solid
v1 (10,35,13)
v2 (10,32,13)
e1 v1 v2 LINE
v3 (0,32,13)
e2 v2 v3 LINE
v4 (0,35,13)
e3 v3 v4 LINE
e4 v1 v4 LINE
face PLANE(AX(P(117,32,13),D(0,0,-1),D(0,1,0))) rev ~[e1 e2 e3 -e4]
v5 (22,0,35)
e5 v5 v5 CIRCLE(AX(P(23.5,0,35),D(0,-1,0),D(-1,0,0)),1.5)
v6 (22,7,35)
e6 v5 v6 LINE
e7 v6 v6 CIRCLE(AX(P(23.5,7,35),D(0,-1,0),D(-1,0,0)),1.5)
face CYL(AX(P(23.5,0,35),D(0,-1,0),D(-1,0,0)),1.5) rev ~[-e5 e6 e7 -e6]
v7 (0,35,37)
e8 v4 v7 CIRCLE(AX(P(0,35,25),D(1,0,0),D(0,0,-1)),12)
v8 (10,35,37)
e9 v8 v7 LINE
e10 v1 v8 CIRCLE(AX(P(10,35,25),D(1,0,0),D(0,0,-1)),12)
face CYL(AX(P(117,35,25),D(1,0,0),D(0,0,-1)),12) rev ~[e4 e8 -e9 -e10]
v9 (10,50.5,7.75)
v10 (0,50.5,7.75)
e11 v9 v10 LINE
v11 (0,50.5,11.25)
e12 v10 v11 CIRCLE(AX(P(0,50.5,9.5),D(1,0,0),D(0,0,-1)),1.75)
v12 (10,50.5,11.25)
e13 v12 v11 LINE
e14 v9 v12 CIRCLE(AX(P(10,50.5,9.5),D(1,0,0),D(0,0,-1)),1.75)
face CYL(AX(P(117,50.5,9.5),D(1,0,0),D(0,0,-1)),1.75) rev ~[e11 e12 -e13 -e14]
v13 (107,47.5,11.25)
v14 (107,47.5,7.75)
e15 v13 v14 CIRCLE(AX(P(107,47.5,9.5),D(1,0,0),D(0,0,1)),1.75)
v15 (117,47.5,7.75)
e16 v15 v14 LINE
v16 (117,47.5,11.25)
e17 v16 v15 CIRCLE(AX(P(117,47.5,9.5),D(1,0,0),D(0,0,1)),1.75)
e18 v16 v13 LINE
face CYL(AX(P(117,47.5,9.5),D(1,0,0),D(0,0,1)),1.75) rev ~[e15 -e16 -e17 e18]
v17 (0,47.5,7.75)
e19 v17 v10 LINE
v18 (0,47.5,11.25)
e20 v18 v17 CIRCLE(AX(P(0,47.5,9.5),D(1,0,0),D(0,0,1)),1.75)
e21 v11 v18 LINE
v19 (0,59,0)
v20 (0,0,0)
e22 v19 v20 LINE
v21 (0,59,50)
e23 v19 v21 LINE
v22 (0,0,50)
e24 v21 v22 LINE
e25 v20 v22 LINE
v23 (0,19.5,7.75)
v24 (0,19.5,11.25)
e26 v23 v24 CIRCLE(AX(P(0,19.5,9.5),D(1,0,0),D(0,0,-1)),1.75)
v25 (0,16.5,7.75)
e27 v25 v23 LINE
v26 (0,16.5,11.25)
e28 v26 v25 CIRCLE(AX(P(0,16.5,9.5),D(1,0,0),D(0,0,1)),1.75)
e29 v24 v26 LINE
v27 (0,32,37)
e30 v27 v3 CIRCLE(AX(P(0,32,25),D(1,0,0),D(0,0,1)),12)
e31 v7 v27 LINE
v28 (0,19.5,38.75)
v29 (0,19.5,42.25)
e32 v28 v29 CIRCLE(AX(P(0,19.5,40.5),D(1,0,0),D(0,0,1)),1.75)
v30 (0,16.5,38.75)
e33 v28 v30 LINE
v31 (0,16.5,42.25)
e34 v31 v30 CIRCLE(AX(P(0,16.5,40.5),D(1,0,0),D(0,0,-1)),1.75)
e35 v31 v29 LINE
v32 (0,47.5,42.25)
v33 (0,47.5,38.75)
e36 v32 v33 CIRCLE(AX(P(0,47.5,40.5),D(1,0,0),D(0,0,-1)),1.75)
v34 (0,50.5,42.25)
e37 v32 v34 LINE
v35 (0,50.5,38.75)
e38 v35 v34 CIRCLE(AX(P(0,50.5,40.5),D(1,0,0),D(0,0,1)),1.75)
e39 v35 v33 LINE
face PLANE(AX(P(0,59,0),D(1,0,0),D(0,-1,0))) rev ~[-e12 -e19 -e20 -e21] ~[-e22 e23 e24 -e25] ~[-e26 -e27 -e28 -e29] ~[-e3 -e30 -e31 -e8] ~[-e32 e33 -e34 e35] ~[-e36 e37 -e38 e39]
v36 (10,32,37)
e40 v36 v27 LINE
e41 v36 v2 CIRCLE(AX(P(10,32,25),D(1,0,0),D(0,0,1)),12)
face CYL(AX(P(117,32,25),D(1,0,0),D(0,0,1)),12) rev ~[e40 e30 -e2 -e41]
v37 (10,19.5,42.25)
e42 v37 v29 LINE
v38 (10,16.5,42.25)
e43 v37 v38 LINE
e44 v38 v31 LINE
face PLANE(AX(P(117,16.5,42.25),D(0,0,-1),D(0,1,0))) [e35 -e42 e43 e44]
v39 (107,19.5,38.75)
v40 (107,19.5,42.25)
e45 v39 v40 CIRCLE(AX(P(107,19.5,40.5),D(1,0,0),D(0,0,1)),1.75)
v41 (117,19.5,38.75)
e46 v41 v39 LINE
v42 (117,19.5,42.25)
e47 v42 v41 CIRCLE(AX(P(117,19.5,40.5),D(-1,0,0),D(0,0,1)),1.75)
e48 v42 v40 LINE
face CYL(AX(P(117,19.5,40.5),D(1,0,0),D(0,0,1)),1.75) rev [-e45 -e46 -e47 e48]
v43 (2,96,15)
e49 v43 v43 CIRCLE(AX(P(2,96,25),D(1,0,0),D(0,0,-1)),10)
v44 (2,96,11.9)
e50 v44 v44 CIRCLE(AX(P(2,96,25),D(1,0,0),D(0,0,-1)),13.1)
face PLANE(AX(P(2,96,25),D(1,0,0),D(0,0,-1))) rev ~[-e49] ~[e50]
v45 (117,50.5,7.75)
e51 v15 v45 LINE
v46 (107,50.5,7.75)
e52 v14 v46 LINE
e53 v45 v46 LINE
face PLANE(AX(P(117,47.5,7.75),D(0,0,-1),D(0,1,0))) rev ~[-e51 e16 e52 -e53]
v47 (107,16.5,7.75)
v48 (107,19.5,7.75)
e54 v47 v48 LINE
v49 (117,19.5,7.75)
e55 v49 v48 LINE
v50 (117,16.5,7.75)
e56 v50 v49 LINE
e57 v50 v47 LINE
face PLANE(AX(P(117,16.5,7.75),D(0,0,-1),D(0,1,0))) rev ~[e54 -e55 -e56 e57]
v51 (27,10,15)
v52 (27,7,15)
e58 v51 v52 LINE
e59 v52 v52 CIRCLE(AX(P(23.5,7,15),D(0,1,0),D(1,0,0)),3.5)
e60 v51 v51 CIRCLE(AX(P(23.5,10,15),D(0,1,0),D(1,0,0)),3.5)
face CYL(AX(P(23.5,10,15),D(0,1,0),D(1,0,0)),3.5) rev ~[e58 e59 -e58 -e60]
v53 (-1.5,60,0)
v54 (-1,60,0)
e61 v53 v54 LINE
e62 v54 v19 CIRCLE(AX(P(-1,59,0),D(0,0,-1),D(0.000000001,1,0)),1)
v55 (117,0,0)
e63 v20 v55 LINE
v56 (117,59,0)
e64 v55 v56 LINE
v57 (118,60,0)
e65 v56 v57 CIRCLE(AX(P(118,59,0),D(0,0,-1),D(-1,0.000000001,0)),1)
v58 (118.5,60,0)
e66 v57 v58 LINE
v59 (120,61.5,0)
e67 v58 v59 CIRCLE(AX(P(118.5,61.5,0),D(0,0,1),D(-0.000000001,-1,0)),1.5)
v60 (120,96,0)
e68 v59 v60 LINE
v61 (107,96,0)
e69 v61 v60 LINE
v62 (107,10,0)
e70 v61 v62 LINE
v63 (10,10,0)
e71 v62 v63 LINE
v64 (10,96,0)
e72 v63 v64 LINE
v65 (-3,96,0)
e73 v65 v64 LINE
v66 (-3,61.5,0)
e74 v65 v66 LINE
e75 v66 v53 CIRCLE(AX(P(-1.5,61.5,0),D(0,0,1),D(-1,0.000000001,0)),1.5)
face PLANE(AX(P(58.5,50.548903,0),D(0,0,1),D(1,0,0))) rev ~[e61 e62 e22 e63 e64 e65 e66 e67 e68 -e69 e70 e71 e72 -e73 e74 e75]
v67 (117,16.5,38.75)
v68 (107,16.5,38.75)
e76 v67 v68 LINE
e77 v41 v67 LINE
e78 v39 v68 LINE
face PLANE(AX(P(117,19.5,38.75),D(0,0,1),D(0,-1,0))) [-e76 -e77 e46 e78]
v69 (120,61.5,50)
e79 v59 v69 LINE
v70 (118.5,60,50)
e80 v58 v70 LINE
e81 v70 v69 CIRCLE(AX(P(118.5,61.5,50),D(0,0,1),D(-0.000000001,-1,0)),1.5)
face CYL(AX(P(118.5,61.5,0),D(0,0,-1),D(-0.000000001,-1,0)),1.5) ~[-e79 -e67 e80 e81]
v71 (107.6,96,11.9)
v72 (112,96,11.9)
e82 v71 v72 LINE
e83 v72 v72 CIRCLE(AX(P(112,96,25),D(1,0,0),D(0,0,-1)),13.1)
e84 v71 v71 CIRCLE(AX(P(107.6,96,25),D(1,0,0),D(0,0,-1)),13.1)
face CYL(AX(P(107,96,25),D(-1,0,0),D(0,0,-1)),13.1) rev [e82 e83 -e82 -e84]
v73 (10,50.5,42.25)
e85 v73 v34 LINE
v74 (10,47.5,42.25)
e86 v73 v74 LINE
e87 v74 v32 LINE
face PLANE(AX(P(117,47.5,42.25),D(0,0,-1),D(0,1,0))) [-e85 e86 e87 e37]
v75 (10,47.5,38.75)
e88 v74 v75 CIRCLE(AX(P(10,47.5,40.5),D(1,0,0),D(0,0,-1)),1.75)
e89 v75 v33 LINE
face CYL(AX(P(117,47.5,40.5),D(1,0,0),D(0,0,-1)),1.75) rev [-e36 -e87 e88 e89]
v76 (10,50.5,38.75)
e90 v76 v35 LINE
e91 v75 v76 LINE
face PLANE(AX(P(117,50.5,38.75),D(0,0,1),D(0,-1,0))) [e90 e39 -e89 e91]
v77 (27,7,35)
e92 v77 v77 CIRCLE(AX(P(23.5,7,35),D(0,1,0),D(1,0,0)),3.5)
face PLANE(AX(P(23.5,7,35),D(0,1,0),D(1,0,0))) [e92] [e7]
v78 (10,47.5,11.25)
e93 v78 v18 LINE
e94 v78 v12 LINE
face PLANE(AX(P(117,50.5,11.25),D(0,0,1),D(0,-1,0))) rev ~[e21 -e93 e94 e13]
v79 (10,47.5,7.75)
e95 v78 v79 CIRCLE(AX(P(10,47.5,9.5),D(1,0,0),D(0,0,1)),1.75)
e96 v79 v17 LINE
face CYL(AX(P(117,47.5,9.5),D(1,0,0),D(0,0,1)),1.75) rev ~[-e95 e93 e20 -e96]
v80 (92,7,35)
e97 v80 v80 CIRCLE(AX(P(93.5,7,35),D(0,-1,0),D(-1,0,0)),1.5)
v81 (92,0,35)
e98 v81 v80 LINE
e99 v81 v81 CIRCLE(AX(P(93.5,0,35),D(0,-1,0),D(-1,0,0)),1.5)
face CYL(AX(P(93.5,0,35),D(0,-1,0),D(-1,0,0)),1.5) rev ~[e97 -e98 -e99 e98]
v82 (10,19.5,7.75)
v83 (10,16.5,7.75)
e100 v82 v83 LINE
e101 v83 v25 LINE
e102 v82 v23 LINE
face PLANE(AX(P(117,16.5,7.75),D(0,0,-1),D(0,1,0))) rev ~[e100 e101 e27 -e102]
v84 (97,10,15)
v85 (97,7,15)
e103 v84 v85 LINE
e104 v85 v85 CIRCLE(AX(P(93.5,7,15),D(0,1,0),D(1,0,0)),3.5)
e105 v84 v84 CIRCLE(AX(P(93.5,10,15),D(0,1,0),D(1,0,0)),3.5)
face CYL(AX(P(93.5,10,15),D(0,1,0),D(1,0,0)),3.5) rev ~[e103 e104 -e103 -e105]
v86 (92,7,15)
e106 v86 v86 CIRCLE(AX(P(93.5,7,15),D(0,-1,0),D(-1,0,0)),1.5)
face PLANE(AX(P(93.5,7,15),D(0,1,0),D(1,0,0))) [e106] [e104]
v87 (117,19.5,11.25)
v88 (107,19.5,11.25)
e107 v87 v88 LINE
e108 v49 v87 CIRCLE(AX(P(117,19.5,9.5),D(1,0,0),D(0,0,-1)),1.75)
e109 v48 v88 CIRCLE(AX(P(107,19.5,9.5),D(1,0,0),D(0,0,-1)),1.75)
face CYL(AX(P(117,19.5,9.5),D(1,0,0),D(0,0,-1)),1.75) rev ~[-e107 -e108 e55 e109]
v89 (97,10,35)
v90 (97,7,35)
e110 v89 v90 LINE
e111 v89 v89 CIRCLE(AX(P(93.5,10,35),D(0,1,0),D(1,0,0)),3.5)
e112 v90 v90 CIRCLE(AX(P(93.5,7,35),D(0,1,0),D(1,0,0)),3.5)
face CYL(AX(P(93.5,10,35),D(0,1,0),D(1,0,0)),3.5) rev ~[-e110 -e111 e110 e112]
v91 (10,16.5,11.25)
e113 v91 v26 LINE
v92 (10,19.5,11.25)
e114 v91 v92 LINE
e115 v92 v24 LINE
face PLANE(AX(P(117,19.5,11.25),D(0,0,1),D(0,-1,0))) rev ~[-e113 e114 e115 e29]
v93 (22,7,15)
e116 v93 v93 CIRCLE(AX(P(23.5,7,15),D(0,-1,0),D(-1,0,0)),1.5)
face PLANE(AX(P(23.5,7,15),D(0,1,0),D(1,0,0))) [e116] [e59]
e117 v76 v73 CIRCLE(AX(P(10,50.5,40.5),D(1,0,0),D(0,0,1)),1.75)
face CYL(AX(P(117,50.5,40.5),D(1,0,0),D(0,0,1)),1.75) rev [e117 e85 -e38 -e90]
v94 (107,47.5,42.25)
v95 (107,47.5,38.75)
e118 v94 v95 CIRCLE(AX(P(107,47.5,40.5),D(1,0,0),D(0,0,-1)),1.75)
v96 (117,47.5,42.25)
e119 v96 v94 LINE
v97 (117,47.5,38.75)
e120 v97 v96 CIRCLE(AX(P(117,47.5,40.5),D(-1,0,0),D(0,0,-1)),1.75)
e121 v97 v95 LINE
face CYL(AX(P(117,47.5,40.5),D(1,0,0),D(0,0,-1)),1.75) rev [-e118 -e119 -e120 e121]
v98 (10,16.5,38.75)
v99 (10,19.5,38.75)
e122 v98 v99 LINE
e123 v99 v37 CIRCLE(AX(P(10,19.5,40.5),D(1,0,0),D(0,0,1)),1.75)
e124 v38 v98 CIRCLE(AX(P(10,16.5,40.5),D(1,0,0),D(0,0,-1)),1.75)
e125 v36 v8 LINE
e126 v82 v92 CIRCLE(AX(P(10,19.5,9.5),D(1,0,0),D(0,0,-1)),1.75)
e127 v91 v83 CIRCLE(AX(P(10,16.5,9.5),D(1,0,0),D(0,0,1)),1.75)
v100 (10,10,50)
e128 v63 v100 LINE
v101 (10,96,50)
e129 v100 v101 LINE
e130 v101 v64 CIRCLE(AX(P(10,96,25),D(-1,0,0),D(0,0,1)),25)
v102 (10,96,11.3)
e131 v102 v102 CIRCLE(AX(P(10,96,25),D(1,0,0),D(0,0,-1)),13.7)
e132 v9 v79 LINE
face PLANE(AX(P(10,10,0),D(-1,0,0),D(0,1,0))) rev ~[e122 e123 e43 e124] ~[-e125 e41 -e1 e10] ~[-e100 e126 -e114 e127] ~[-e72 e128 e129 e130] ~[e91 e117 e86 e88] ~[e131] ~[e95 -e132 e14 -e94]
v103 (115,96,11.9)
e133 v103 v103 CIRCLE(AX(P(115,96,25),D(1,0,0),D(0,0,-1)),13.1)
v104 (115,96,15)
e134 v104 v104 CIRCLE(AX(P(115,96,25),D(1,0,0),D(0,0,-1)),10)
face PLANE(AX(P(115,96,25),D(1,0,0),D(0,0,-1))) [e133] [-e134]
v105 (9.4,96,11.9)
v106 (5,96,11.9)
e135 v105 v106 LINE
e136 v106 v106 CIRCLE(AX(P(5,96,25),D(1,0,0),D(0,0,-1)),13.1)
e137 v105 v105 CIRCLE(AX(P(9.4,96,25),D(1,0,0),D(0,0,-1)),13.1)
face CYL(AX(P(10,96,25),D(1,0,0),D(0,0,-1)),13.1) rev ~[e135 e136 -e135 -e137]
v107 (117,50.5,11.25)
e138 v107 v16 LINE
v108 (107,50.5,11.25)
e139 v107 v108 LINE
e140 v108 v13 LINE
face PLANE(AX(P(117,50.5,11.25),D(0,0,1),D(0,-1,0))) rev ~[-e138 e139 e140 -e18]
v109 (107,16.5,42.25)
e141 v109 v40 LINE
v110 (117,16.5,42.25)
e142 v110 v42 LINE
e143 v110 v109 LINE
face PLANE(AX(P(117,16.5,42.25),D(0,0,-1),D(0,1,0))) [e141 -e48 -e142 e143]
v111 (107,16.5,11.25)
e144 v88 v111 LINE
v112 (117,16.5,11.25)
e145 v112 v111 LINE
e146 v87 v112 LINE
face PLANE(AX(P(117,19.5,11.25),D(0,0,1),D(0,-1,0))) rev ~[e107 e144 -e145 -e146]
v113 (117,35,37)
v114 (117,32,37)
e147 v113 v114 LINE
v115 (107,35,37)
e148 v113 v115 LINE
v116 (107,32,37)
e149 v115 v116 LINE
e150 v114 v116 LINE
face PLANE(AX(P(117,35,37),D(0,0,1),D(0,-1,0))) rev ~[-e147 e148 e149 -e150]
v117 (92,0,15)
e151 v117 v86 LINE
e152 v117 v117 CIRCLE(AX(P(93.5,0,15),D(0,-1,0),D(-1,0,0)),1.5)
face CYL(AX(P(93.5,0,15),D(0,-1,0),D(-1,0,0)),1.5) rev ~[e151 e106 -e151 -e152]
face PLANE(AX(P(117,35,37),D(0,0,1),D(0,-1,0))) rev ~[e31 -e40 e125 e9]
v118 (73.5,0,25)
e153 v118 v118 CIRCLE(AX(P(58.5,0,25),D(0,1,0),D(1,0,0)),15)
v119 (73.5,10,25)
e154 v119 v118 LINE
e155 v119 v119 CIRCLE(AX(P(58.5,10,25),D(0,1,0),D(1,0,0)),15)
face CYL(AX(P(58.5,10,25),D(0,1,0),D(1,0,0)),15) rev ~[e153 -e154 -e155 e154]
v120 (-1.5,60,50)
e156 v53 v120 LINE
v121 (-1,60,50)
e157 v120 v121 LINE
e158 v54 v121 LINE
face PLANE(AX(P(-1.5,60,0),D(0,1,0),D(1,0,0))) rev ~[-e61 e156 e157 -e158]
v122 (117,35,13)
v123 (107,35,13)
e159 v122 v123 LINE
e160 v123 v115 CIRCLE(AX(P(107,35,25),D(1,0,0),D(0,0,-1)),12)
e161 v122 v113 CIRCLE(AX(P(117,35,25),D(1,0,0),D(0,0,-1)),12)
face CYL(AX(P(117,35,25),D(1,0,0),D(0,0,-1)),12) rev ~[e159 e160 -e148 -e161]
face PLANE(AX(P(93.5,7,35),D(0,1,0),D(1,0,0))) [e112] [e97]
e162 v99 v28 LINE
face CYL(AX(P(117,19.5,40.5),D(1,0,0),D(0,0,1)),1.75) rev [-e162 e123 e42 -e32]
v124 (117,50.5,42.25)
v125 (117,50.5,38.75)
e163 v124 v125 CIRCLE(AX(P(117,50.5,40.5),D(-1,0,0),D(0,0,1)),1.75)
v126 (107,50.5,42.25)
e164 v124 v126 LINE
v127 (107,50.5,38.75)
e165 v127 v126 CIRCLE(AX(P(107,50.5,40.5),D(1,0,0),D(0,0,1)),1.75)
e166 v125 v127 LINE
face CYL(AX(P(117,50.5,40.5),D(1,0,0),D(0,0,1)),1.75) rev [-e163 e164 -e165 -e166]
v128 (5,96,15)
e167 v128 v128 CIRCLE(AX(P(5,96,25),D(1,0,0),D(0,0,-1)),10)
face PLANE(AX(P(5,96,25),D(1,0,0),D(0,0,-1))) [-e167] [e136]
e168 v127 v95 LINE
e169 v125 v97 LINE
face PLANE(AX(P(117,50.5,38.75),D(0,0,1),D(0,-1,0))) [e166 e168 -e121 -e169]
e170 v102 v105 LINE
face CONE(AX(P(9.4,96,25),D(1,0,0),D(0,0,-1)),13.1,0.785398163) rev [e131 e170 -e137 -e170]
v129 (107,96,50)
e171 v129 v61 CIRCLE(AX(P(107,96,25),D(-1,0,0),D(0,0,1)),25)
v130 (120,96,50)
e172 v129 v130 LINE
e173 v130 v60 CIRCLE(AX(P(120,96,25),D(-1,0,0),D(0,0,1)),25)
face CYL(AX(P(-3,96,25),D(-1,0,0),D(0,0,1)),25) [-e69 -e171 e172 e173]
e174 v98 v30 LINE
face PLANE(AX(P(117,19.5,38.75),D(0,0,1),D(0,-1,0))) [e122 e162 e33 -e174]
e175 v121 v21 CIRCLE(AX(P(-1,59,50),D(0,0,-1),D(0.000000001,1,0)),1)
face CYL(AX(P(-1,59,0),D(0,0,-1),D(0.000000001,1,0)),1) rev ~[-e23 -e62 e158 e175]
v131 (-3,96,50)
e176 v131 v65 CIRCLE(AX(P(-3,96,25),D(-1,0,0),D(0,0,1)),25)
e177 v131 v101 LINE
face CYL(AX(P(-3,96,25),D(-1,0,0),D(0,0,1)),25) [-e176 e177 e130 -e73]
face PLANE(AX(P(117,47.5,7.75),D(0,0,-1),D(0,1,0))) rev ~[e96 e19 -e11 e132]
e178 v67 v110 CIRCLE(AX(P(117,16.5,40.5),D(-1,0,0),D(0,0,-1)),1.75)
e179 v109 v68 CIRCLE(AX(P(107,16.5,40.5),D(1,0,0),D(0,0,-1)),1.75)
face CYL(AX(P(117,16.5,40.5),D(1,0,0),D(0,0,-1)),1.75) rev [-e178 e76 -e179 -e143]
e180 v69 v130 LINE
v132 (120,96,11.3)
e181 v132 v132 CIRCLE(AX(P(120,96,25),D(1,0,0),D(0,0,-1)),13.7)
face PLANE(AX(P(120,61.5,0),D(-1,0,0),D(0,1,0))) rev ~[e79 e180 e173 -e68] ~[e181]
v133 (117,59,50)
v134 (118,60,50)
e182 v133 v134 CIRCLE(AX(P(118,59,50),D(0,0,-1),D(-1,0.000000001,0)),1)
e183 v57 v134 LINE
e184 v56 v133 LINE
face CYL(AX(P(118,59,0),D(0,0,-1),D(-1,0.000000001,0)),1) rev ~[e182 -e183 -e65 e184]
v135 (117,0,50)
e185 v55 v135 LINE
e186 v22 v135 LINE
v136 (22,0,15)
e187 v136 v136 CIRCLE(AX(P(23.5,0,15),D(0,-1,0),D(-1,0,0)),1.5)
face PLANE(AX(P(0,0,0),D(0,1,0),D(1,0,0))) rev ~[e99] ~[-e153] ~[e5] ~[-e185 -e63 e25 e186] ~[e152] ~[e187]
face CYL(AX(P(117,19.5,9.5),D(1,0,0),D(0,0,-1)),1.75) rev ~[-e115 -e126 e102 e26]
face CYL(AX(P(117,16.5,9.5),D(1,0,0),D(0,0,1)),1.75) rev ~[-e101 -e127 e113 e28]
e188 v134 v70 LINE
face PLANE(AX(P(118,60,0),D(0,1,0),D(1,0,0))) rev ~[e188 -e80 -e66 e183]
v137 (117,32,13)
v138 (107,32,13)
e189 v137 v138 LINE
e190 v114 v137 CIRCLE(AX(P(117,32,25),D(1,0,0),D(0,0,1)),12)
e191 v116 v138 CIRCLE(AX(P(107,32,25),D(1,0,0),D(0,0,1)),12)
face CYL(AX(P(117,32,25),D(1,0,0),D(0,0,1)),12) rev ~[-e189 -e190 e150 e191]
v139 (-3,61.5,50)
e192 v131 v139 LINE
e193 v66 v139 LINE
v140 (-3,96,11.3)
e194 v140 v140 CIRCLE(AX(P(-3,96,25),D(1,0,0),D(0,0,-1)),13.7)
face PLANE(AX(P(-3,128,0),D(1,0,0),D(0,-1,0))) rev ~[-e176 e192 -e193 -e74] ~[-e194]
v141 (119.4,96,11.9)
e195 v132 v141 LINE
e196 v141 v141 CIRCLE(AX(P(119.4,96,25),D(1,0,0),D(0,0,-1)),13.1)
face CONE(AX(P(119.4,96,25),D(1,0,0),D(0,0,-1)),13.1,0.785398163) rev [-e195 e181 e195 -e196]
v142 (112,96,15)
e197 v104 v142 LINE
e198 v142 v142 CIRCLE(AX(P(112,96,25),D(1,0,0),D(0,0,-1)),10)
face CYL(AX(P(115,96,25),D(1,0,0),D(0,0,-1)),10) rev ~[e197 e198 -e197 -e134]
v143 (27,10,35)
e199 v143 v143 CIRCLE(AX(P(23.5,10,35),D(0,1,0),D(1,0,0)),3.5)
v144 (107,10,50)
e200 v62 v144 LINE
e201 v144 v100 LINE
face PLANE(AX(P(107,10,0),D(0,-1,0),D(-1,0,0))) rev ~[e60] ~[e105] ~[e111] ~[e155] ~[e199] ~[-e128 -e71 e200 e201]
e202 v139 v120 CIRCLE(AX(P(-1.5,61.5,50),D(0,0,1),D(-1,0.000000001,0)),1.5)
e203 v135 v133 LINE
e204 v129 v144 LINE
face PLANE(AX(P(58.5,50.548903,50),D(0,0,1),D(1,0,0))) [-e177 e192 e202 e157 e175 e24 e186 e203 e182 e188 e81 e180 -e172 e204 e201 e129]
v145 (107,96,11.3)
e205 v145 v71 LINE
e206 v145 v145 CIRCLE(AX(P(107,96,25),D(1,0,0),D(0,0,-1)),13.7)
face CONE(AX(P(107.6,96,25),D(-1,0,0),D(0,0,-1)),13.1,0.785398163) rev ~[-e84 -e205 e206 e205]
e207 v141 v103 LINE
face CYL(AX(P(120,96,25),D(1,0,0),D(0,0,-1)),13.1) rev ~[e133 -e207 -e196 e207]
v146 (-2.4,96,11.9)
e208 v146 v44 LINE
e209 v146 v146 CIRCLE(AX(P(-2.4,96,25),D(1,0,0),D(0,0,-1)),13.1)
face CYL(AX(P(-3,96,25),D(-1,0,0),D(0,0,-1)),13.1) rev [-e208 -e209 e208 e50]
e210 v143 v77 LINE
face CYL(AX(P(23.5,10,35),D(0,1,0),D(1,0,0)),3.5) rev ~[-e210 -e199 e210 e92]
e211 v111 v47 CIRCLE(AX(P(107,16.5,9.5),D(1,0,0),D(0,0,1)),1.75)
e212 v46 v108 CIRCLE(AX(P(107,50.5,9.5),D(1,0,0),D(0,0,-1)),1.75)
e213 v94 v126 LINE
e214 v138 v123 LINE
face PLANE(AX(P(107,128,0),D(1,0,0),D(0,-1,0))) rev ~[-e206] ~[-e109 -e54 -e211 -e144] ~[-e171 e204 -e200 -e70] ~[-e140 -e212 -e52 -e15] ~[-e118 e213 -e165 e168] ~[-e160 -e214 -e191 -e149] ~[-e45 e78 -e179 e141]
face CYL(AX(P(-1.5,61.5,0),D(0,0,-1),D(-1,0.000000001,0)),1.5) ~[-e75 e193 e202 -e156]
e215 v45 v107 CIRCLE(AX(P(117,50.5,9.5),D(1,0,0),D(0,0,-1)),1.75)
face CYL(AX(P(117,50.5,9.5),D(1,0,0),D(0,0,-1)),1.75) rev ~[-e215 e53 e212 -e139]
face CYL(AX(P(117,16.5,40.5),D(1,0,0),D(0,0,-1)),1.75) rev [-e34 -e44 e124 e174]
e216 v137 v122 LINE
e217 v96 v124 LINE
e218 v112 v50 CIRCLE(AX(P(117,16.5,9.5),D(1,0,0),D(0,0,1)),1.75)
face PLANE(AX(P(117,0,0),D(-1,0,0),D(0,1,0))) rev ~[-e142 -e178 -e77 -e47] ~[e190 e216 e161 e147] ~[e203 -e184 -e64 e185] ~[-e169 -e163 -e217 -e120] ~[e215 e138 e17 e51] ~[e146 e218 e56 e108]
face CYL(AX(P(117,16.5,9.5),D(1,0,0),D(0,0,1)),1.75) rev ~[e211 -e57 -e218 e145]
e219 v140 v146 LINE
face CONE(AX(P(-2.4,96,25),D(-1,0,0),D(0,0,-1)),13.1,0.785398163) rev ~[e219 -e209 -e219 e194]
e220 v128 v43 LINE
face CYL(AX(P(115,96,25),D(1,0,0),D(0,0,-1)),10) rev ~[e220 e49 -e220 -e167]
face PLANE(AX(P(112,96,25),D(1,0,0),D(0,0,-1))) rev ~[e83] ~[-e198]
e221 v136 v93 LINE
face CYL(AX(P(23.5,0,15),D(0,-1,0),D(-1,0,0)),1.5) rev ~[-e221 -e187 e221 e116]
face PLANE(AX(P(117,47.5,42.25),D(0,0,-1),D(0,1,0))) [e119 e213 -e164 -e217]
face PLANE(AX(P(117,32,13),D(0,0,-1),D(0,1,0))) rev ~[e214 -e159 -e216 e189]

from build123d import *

# Parameters (mm, degrees)
BOSS_EXTRUDE1_DEPTH = 50
CUT_EXTRUDE1_DEPTH  = 121
SKETCH3_R           = 13.1
CUT_EXTRUDE2_DEPTH  = 5
CUT_EXTRUDE3_START  = -123
SKETCH3_3_R         = 13.1
CUT_EXTRUDE3_DEPTH  = 5
CUT_EXTRUDE4_START  = -13
SKETCH3_4_R         = 13.1
CUT_EXTRUDE4_DEPTH  = 5
CUT_EXTRUDE5_START  = -110
SKETCH3_5_R         = 13.1
CUT_EXTRUDE5_DEPTH  = 5
SKETCH4_R           = 10
CUT_EXTRUDE6_DEPTH  = 119
CHAMFER1_SIZE       = 0.6
CUT_EXTRUDE7_DEPTH  = 124
SKETCH7_R           = 15
CUT_EXTRUDE8_DEPTH  = 10
SKETCH6_R           = 1.5
CUT_EXTRUDE9_DEPTH  = 10
SKETCH8_R           = 3.5
CUT_EXTRUDE10_DEPTH = 3


with BuildPart() as part:
    # Sketch1 → Boss-Extrude1 (new body)
    with BuildSketch(Plane.XY):
        with BuildLine():
            Line((10, 128), (-3, 128))
            Line((-3, 128), (-3, 61.5))
            ThreePointArc((-3, 61.5), (-2.560660172, 60.439339828), (-1.5, 60))
            Line((-1.5, 60), (-1, 60))
            ThreePointArc((-1, 60), (-0.292893219, 59.707106781), (0, 59))
            Line((0, 59), (0, 0))
            Line((0, 0), (117, 0))
            Line((117, 0), (117, 59))
            ThreePointArc((117, 59), (117.292893219, 59.707106781), (118, 60))
            Line((118, 60), (118.5, 60))
            ThreePointArc((118.5, 60), (119.560660172, 60.439339828), (120, 61.5))
            Line((120, 61.5), (120, 128))
            Line((120, 128), (107, 128))
            Line((107, 128), (107, 10))
            Line((107, 10), (10, 10))
            Line((10, 10), (10, 128))
        make_face()
    extrude(amount=BOSS_EXTRUDE1_DEPTH)

    # Sketch2 → Cut-Extrude1 (cut, through all)
    with BuildSketch(Plane(origin=(117, 0, 0), x_dir=(0, 0, -1), z_dir=(1, 0, 0))):
        with BuildLine():
            Line((-42.25, 47.5), (-42.25, 50.5))
            ThreePointArc((-42.25, 50.5), (-40.5, 52.25), (-38.75, 50.5))
            Line((-38.75, 50.5), (-38.75, 47.5))
            ThreePointArc((-38.75, 47.5), (-40.5, 45.75), (-42.25, 47.5))
        make_face()
        with BuildLine():
            Line((-37, 35), (-37, 32))
            ThreePointArc((-37, 32), (-25, 20), (-13, 32))
            Line((-13, 32), (-13, 35))
            ThreePointArc((-13, 35), (-25, 47), (-37, 35))
        make_face()
        with BuildLine():
            Line((-11.25, 50.5), (-11.25, 47.5))
            ThreePointArc((-11.25, 47.5), (-9.5, 45.75), (-7.75, 47.5))
            Line((-7.75, 47.5), (-7.75, 50.5))
            ThreePointArc((-7.75, 50.5), (-9.5, 52.25), (-11.25, 50.5))
        make_face()
        with BuildLine():
            Line((-11.25, 19.5), (-11.25, 16.5))
            ThreePointArc((-11.25, 16.5), (-9.5, 14.75), (-7.75, 16.5))
            Line((-7.75, 16.5), (-7.75, 19.5))
            ThreePointArc((-7.75, 19.5), (-9.5, 21.25), (-11.25, 19.5))
        make_face()
        with BuildLine():
            Line((-38.75, 19.5), (-38.75, 16.5))
            ThreePointArc((-38.75, 16.5), (-40.5, 14.75), (-42.25, 16.5))
            Line((-42.25, 16.5), (-42.25, 19.5))
            ThreePointArc((-42.25, 19.5), (-40.5, 21.25), (-38.75, 19.5))
        make_face()
    extrude(amount=-CUT_EXTRUDE1_DEPTH, mode=Mode.SUBTRACT)

    # Sketch3 → Cut-Extrude2 (cut)
    with BuildSketch(Plane(origin=(120, 0, 0), x_dir=(0, 0, -1), z_dir=(1, 0, 0))):
        with Locations((-25, 96)):
            Circle(SKETCH3_R)
    extrude(amount=-CUT_EXTRUDE2_DEPTH, mode=Mode.SUBTRACT)

    # Sketch3<3> → Cut-Extrude3 (cut)
    with BuildSketch(Plane(origin=(120, 0, 0), x_dir=(0, 0, -1), z_dir=(1, 0, 0)).offset(CUT_EXTRUDE3_START)):
        with Locations((-25, 96)):
            Circle(SKETCH3_3_R)
    extrude(amount=CUT_EXTRUDE3_DEPTH, mode=Mode.SUBTRACT)

    # Sketch3<4> → Cut-Extrude4 (cut)
    with BuildSketch(Plane(origin=(120, 0, 0), x_dir=(0, 0, -1), z_dir=(1, 0, 0)).offset(CUT_EXTRUDE4_START)):
        with Locations((-25, 96)):
            Circle(SKETCH3_4_R)
    extrude(amount=CUT_EXTRUDE4_DEPTH, mode=Mode.SUBTRACT)

    # Sketch3<5> → Cut-Extrude5 (cut)
    with BuildSketch(Plane(origin=(120, 0, 0), x_dir=(0, 0, -1), z_dir=(1, 0, 0)).offset(CUT_EXTRUDE5_START)):
        with Locations((-25, 96)):
            Circle(SKETCH3_5_R)
    extrude(amount=-CUT_EXTRUDE5_DEPTH, mode=Mode.SUBTRACT)

    # Sketch4 → Cut-Extrude6 (cut, through all)
    with BuildSketch(Plane(origin=(115, 0, 0), x_dir=(0, 0, -1), z_dir=(1, 0, 0))):
        with Locations((-25, 96)):
            Circle(SKETCH4_R)
    extrude(amount=-CUT_EXTRUDE6_DEPTH, mode=Mode.SUBTRACT)

    # Chamfer1
    chamfer1_edges = [part.edges().sort_by_distance(p)[0] for p in [
        (120, 96, 38.1),
        (-3, 96, 38.1),
        (107, 96, 38.1),
        (10, 96, 38.1),
    ]]
    chamfer(chamfer1_edges, length=CHAMFER1_SIZE)

    # Sketch5 → Cut-Extrude7 (cut, through all)
    with BuildSketch(Plane.ZY.offset(3)):
        with BuildLine():
            Line((0, 96), (0, 151.710807056))
            Line((0, 151.710807056), (50, 151.710807056))
            Line((50, 151.710807056), (50, 96))
            ThreePointArc((50, 96), (25, 121), (0, 96))
        make_face()
    extrude(amount=-CUT_EXTRUDE7_DEPTH, mode=Mode.SUBTRACT)

    # Sketch7 → Cut-Extrude8 (cut)
    with BuildSketch(Plane(origin=(0, 10, 0), x_dir=(1, 0, 0), z_dir=(0, 1, 0))):
        with Locations((58.5, -25)):
            Circle(SKETCH7_R)
    extrude(amount=-CUT_EXTRUDE8_DEPTH, mode=Mode.SUBTRACT)

    # Sketch6 → Cut-Extrude9 (cut)
    with BuildSketch(Plane(origin=(0, 0, 0), x_dir=(-1, 0, 0), z_dir=(0, -1, 0))):
        with Locations((-93.5, -15)):
            Circle(SKETCH6_R)
        with Locations((-93.5, -35)):
            Circle(SKETCH6_R)
        with Locations((-23.5, -35)):
            Circle(SKETCH6_R)
        with Locations((-23.5, -15)):
            Circle(SKETCH6_R)
    extrude(amount=-CUT_EXTRUDE9_DEPTH, mode=Mode.SUBTRACT)

    # Sketch8 → Cut-Extrude10 (cut)
    with BuildSketch(Plane(origin=(0, 10, 0), x_dir=(1, 0, 0), z_dir=(0, 1, 0))):
        with Locations((23.5, -15)):
            Circle(SKETCH8_R)
        with Locations((23.5, -35)):
            Circle(SKETCH8_R)
        with Locations((93.5, -35)):
            Circle(SKETCH8_R)
        with Locations((93.5, -15)):
            Circle(SKETCH8_R)
    extrude(amount=-CUT_EXTRUDE10_DEPTH, mode=Mode.SUBTRACT)


solid = part.part
